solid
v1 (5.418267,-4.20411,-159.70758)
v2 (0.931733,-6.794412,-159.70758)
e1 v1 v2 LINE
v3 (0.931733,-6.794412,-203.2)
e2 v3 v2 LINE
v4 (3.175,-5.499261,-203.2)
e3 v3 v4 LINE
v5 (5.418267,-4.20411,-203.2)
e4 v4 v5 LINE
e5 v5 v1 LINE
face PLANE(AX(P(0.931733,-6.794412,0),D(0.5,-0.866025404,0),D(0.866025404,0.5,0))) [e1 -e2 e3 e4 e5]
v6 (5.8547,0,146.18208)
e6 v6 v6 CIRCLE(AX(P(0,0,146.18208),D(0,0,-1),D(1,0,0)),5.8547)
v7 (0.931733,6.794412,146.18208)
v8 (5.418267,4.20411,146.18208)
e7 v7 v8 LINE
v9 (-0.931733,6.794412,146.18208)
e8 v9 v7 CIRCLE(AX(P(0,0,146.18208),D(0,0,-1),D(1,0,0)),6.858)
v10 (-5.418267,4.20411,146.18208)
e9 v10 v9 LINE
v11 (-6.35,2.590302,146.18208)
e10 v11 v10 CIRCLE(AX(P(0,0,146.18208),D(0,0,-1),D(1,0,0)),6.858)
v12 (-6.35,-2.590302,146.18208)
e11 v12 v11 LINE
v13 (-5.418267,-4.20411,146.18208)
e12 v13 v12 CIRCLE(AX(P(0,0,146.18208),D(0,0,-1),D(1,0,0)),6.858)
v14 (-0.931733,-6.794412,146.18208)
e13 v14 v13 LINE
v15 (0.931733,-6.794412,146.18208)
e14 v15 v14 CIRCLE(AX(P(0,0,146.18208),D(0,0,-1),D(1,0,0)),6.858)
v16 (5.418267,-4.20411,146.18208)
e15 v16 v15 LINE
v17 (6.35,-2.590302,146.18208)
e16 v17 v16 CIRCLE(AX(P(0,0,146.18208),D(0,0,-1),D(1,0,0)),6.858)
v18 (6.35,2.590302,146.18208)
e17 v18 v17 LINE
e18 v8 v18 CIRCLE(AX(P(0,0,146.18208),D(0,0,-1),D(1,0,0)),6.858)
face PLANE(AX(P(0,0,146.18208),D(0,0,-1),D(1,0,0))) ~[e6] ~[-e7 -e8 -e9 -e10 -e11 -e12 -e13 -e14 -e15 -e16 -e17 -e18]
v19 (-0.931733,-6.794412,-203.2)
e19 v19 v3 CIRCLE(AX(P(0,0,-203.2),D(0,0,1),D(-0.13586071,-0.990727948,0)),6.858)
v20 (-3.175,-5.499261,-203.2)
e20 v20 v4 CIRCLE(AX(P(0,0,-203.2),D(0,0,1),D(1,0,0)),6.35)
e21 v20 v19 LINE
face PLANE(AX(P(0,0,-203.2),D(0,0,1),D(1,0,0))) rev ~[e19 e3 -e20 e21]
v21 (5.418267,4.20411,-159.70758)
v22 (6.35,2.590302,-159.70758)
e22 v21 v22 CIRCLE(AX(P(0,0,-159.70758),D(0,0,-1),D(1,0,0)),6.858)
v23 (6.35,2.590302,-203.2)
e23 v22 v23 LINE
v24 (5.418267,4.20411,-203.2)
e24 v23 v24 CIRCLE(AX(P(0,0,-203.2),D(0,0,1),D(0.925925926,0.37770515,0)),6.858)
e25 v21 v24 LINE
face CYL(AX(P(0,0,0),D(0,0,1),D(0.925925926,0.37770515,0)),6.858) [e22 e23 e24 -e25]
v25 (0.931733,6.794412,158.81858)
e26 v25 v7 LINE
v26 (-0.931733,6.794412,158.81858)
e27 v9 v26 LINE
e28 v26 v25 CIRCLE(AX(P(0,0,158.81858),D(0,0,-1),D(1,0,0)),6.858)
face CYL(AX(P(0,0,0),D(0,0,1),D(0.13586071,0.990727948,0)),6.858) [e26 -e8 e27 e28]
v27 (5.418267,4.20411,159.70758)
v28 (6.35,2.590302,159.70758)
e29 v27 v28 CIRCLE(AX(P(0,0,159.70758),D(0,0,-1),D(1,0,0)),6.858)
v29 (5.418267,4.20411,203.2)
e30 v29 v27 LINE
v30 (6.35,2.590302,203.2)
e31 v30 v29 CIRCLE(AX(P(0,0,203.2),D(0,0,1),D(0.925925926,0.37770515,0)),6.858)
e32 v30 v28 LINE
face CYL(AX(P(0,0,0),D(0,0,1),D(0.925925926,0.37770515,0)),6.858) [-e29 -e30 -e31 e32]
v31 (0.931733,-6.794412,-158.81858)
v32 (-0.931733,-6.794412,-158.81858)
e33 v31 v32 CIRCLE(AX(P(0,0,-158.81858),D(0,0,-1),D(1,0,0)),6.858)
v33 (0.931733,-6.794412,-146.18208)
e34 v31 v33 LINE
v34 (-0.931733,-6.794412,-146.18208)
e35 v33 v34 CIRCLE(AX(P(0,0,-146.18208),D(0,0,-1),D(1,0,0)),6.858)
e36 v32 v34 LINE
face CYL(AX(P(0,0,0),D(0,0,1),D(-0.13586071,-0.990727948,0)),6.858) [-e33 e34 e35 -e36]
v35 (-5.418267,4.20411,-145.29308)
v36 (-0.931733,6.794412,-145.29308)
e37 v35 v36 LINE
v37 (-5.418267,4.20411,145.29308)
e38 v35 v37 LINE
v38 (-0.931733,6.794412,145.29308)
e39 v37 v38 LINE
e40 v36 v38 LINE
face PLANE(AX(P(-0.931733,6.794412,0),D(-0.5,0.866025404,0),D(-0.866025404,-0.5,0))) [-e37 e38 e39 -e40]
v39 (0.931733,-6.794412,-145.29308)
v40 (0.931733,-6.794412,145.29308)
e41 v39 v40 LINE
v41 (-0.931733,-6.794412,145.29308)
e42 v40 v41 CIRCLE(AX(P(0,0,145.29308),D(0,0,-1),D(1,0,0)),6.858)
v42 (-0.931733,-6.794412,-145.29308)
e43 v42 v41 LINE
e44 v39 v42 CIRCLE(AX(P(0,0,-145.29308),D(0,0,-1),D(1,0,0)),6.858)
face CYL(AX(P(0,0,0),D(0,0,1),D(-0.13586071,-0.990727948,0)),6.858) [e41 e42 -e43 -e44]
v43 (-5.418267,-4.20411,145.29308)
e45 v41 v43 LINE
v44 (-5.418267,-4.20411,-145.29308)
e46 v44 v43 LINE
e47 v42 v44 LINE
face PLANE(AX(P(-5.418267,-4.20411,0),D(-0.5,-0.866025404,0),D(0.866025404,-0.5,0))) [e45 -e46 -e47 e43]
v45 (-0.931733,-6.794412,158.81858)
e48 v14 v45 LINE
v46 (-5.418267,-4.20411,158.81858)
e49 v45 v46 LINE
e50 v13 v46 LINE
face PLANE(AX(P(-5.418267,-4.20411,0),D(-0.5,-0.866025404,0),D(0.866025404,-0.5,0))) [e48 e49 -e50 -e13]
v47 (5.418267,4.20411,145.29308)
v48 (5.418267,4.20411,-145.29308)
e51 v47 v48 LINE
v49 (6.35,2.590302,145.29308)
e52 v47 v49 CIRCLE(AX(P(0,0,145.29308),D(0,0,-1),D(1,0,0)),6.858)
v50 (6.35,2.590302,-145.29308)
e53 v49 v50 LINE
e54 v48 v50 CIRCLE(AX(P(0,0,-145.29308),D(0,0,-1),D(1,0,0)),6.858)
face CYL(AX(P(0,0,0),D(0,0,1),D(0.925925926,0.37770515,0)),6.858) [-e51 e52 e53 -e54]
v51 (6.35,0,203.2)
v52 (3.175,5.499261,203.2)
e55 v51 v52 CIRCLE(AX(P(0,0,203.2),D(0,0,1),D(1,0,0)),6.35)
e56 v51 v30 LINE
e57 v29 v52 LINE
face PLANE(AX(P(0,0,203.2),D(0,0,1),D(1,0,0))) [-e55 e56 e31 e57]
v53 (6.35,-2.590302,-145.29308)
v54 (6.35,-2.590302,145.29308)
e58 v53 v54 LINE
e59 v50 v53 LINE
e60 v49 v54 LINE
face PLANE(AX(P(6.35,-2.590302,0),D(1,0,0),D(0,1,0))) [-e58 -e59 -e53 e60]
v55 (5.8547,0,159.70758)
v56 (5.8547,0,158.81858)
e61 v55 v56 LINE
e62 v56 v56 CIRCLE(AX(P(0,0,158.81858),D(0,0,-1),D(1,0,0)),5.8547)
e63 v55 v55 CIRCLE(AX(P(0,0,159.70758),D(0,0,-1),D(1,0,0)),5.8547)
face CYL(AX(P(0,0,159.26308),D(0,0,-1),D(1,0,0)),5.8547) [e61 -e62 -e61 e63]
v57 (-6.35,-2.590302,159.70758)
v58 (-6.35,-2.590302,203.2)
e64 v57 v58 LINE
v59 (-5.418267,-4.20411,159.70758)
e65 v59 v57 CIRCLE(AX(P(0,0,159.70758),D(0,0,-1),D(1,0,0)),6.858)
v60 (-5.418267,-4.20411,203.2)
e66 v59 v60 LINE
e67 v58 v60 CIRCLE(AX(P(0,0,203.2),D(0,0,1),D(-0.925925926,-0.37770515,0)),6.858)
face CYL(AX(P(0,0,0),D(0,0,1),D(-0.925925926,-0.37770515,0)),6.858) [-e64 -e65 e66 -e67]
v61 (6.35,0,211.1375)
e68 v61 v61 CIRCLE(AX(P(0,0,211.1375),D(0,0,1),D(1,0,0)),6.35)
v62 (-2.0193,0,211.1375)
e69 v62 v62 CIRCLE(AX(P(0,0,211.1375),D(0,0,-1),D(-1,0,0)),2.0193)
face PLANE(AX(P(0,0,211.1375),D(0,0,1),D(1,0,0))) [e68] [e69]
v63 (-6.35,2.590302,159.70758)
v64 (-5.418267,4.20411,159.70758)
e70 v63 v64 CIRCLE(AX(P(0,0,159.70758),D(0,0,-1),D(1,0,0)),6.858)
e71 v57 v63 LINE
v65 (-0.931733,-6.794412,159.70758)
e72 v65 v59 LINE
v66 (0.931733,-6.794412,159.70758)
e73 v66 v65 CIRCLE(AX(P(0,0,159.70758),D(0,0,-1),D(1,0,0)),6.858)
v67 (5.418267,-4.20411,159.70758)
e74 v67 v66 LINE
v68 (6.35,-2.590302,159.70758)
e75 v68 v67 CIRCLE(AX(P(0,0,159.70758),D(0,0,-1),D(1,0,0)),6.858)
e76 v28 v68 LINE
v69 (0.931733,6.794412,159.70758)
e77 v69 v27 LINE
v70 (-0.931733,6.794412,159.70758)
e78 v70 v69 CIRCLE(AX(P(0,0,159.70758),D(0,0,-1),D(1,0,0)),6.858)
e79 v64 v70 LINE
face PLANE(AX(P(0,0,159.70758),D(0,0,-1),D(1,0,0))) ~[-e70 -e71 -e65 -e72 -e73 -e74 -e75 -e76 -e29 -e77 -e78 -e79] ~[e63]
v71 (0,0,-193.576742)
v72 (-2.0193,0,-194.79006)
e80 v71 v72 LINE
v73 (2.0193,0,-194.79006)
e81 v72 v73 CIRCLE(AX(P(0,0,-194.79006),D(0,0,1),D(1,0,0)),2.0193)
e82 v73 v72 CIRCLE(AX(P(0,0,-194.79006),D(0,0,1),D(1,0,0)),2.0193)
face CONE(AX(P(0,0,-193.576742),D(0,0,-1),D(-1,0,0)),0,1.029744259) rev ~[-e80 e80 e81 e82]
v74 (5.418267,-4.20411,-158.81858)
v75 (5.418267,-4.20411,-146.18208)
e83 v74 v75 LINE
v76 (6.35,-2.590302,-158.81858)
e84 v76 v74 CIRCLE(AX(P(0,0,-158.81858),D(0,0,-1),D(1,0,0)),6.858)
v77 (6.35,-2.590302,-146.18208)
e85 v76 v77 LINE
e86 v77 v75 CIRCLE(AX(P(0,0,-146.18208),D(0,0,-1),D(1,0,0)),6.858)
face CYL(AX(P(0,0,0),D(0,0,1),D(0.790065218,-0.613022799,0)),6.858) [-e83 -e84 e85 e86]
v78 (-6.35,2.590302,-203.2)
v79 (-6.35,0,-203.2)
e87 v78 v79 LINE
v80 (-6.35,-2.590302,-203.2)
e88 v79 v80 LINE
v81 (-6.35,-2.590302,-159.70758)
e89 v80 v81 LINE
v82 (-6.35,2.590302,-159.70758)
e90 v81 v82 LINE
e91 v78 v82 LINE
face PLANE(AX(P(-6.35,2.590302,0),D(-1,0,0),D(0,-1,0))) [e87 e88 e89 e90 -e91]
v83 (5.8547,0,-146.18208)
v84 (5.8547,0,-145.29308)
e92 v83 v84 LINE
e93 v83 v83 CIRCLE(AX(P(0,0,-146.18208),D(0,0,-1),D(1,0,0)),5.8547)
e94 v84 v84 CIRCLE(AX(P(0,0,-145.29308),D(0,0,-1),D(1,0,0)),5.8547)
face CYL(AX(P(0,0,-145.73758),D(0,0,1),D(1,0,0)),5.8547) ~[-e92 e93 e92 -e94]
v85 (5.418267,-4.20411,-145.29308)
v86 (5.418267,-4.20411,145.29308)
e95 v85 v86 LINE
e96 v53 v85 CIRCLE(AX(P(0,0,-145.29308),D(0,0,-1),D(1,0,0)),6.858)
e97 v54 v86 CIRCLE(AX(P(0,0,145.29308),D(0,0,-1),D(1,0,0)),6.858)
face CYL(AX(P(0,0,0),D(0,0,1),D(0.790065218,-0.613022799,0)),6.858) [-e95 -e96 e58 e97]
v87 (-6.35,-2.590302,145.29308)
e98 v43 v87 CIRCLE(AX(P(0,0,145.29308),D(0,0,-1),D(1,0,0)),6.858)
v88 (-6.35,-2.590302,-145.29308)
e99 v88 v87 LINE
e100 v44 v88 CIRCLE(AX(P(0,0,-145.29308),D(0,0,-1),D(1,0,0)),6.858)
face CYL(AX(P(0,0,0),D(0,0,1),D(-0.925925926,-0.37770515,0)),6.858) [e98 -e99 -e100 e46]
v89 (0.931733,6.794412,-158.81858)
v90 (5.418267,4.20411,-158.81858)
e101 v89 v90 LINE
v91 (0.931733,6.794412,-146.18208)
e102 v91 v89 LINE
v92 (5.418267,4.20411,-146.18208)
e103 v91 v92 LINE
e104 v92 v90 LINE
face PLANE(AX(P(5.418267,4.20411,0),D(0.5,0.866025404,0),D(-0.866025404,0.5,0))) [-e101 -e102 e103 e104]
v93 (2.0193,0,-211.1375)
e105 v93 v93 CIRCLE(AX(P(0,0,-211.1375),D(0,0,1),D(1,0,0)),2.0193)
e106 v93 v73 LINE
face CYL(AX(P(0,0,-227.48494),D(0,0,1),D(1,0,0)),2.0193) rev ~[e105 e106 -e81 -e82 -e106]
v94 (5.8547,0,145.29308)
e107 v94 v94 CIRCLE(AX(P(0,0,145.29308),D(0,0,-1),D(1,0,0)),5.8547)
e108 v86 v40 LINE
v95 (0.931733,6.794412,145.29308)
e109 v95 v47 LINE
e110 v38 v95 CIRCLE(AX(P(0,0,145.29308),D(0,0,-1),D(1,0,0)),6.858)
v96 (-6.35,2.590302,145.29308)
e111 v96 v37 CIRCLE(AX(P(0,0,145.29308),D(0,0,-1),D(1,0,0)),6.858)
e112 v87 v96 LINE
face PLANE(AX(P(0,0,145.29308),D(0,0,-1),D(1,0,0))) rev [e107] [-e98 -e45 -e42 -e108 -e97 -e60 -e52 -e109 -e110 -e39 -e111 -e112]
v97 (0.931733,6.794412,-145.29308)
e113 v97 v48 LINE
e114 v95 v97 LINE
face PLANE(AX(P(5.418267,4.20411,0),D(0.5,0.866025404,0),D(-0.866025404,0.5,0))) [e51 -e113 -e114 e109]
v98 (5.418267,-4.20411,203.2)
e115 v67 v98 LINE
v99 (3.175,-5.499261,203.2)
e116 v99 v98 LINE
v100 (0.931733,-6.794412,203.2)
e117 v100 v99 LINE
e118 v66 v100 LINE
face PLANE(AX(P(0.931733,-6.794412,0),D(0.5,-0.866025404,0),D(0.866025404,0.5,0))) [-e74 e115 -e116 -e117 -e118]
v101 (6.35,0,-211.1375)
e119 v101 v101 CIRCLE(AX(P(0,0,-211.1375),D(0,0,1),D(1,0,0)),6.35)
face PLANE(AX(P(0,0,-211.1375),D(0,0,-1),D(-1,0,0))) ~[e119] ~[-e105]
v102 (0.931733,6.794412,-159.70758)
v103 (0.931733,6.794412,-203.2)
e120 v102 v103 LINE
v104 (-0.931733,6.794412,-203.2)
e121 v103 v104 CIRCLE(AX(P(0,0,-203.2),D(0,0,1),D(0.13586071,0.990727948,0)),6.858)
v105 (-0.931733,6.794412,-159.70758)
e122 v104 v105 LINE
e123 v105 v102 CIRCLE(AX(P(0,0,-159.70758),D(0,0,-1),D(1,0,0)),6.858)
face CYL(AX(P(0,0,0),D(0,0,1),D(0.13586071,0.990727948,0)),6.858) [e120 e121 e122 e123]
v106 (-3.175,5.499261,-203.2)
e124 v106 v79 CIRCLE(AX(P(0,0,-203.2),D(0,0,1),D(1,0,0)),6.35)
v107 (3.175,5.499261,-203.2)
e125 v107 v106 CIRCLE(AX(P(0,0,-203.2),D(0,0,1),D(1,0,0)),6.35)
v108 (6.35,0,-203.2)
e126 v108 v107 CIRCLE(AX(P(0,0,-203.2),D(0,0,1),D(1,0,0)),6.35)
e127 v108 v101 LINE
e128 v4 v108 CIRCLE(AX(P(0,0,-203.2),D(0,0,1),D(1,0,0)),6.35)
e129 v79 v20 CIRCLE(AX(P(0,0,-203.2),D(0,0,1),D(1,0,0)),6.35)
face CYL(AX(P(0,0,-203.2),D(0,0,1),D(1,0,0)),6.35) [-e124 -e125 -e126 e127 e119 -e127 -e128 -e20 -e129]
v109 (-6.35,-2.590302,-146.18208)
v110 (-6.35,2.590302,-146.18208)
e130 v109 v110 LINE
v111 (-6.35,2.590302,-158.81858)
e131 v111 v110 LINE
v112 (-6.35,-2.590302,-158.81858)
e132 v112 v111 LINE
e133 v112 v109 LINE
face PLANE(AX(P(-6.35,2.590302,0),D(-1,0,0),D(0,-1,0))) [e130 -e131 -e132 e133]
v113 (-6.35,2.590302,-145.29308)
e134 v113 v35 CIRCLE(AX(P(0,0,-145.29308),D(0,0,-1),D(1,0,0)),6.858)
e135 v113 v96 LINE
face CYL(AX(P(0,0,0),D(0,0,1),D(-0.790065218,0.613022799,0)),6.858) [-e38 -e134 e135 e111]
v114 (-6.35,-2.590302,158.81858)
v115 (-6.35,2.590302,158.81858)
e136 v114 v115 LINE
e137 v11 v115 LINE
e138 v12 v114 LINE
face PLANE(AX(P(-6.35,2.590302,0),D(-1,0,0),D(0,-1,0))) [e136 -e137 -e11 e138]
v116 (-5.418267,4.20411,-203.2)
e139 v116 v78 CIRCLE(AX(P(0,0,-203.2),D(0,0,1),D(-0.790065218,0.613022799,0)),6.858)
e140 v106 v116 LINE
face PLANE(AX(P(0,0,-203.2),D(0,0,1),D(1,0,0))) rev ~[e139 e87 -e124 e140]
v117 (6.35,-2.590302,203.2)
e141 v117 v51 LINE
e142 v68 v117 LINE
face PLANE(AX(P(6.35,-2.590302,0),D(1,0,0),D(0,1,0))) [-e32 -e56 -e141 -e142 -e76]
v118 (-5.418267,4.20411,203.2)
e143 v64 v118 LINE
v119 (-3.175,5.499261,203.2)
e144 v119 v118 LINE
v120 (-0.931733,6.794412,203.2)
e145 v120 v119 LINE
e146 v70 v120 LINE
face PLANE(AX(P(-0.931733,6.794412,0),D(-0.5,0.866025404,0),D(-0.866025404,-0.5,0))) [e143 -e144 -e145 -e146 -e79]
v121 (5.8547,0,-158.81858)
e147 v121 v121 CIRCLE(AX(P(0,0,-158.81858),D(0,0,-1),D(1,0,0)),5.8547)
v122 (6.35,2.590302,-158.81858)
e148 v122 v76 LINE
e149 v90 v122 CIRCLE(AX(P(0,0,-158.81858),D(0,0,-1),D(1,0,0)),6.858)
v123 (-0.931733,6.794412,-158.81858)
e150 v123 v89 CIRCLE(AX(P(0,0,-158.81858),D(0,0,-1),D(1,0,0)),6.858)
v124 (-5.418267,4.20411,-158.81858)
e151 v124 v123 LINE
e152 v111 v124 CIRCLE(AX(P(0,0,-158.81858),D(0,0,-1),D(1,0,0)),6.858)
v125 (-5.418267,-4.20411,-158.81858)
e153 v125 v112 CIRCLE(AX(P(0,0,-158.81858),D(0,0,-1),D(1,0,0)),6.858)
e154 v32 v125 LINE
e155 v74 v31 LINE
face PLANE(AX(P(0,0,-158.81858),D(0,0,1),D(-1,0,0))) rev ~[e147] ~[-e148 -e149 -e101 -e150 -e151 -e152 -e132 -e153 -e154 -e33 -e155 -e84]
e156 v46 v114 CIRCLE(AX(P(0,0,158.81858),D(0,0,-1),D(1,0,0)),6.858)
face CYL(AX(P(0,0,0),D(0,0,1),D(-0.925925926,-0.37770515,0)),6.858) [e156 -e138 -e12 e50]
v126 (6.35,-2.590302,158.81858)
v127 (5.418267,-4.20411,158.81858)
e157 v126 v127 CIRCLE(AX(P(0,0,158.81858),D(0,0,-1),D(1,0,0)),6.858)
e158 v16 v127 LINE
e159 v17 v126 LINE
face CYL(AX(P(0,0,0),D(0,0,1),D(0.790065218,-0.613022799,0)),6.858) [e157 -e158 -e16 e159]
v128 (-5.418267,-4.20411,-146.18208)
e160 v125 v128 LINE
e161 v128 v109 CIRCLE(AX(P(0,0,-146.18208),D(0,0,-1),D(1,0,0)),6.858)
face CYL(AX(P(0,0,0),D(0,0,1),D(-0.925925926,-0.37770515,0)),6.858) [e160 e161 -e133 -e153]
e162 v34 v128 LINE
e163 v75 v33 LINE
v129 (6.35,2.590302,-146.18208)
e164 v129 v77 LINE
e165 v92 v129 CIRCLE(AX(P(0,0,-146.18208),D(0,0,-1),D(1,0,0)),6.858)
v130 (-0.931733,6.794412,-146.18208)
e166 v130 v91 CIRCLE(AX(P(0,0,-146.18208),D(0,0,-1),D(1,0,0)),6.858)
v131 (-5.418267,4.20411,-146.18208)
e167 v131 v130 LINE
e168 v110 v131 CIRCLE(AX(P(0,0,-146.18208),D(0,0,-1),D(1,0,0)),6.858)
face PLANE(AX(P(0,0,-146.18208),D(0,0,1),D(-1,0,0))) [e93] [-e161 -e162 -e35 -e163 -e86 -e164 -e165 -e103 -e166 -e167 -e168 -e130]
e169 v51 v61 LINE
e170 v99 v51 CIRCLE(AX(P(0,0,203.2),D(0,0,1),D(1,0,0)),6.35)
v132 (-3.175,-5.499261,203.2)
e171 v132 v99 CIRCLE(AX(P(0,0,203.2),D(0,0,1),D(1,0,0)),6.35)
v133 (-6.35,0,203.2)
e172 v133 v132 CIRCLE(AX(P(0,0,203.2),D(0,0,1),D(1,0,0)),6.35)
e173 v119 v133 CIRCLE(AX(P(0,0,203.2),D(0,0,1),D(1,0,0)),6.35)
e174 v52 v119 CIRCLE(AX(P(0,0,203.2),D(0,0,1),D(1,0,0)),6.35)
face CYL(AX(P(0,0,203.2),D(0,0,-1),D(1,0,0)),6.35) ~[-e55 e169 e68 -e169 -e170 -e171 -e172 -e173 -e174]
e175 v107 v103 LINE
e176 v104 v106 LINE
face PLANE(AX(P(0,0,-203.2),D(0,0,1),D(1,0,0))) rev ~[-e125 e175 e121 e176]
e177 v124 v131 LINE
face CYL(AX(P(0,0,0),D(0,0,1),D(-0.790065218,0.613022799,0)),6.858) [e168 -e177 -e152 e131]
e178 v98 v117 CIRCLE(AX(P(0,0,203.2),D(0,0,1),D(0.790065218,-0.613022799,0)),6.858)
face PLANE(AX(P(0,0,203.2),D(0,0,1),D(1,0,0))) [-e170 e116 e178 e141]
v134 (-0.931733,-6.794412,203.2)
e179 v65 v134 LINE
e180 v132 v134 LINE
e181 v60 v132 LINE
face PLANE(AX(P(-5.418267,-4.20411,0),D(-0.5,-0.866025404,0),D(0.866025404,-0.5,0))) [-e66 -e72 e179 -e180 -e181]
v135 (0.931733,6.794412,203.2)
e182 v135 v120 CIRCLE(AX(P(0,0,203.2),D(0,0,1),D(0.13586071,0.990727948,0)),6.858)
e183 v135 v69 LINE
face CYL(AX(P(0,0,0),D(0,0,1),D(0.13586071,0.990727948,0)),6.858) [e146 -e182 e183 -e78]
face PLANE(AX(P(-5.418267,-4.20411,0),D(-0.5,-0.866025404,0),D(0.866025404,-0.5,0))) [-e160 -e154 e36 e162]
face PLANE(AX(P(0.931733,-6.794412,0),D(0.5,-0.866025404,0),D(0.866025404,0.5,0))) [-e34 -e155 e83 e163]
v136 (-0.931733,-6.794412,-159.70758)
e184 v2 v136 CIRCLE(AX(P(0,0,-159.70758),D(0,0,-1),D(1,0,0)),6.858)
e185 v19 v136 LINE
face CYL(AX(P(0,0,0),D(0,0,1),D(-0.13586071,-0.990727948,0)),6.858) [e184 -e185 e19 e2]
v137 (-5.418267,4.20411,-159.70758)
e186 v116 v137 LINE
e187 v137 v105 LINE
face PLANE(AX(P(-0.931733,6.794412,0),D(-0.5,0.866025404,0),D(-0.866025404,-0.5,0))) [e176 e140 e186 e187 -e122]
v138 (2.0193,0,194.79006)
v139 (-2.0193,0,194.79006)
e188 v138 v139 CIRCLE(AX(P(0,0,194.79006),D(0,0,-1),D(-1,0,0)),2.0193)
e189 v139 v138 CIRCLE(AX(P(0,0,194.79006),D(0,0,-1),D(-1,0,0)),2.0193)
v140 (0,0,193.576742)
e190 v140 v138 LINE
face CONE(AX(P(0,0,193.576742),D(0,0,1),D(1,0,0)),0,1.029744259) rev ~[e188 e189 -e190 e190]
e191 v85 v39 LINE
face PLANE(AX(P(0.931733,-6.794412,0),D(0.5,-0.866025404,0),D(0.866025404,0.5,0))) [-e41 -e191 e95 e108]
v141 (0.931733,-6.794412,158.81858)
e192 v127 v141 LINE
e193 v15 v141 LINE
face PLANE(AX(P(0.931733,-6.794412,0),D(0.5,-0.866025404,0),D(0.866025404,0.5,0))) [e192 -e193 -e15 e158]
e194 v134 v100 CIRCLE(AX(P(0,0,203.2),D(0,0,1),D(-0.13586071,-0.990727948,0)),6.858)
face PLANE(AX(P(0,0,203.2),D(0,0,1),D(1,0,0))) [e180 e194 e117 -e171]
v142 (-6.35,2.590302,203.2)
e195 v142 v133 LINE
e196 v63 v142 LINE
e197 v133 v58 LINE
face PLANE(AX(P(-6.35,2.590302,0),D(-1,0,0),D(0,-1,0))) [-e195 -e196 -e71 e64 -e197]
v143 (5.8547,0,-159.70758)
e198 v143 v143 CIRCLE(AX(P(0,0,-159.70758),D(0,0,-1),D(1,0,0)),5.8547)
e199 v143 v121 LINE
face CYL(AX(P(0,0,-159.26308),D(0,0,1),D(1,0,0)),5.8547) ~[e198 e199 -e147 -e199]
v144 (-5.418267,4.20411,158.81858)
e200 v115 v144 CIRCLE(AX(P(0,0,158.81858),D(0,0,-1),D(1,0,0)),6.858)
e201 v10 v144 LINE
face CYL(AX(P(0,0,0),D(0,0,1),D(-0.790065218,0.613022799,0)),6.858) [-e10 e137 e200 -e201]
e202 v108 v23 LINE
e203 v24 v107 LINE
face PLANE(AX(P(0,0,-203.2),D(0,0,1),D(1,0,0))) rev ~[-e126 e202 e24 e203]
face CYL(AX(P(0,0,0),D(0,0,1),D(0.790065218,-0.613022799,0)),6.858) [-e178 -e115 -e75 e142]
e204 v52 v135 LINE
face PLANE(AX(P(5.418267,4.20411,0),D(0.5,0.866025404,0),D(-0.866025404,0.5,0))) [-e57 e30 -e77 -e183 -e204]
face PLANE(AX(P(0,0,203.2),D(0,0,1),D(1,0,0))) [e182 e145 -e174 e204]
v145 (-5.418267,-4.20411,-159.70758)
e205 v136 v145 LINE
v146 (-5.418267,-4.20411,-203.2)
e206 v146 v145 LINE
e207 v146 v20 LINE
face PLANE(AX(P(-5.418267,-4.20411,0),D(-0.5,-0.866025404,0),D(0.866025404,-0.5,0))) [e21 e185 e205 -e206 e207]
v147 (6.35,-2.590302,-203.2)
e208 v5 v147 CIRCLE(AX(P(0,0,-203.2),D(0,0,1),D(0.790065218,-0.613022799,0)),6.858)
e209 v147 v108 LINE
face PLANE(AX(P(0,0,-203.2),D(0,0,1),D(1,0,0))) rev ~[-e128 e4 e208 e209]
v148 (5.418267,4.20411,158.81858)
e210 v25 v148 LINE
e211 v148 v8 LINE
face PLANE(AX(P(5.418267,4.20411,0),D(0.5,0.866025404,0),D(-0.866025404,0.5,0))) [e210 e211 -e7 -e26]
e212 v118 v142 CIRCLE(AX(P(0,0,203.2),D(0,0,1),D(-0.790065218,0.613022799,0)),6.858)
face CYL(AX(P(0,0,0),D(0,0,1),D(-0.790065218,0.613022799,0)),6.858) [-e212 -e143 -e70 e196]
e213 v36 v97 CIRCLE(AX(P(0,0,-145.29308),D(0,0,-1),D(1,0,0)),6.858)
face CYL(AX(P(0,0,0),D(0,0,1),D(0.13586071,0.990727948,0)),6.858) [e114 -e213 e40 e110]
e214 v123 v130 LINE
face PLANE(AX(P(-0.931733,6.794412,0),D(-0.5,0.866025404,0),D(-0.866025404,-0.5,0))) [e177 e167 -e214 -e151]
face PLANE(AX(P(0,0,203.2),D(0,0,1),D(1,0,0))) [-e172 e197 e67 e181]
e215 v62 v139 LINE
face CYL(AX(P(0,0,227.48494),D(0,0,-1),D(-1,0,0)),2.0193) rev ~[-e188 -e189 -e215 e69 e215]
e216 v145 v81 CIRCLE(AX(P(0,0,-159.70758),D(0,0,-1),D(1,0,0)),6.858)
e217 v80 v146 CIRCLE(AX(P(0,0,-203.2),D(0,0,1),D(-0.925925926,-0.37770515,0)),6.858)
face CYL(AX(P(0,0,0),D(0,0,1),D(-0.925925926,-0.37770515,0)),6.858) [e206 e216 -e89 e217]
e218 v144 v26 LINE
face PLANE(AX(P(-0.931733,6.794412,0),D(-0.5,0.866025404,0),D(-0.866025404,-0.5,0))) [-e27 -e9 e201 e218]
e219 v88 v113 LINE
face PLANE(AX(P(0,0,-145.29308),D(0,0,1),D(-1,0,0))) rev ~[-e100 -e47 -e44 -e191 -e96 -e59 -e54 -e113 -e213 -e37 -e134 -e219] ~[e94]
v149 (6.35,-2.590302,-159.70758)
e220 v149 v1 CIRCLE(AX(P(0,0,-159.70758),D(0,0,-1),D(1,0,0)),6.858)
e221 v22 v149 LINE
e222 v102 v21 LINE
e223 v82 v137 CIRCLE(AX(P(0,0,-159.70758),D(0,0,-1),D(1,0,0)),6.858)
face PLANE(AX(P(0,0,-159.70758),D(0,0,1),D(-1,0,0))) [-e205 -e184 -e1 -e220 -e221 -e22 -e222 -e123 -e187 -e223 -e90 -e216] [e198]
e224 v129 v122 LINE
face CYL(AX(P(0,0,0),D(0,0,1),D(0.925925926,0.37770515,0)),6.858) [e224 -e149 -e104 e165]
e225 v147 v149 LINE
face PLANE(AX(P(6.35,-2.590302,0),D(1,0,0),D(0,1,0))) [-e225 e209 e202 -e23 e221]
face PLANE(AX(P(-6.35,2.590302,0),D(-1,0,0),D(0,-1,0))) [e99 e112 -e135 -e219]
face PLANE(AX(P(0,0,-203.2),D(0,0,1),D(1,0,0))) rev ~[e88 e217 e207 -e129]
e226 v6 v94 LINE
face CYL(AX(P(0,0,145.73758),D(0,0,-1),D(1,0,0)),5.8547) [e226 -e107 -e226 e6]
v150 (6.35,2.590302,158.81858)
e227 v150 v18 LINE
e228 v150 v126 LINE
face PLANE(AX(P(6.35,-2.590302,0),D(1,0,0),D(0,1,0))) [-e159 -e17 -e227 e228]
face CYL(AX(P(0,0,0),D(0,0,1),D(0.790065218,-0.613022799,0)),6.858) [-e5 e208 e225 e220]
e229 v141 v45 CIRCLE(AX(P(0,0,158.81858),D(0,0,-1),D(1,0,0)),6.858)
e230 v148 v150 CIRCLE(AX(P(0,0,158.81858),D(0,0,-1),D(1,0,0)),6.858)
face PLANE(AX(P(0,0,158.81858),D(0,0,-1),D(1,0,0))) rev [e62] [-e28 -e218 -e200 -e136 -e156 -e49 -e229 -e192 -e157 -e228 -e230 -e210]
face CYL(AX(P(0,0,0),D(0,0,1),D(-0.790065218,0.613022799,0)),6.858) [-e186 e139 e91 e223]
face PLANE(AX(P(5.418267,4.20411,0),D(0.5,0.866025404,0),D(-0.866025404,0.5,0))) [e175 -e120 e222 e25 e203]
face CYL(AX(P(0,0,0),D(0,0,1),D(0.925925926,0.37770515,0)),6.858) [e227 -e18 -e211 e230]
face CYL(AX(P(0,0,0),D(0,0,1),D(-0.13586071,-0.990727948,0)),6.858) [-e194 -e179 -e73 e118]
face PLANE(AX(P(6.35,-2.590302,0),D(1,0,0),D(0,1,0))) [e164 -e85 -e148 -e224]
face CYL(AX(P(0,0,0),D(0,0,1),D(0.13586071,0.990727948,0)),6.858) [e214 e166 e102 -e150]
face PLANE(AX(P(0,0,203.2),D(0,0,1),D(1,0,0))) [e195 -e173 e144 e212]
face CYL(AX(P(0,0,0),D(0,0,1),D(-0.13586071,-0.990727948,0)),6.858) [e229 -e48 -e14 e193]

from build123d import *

# Parameters (mm, degrees)
BOSS_EXTRUDE1_DEPTH                  = 203.2
SKETCH6_R                            = 6.35
BOSS_EXTRUDE2_DEPTH                  = 7.9375
F_10_32_TAPPED_HOLE1_D               = 4.0386
F_10_32_TAPPED_HOLE1_DEPTH           = 16.34744
F_10_32_TAPPED_HOLE1_TIP             = 1.213317848
F_10_32_TAPPED_HOLE1_ON_FACE_2_D     = 4.0386
F_10_32_TAPPED_HOLE1_ON_FACE_2_DEPTH = 16.34744
F_10_32_TAPPED_HOLE1_ON_FACE_2_TIP   = 1.213317848
SKETCH5_W                            = 0.889
SKETCH5_H                            = 1.0033


with BuildPart() as part:
    # Sketch1 → Boss-Extrude1 (new, symmetric)
    with BuildSketch(Plane.XY):
        with BuildLine():
            ThreePointArc((0.93173274, 6.79441227), (0, 6.858), (-0.93173274, 6.79441227))
            Line((-0.93173274, 6.79441227), (-5.41826726, 4.204110358))
            ThreePointArc((-5.41826726, 4.204110358), (-5.939202219, 3.429), (-6.35, 2.590301913))
            Line((-6.35, 2.590301913), (-6.35, -2.590301913))
            ThreePointArc((-6.35, -2.590301913), (-5.939202219, -3.429), (-5.41826726, -4.204110358))
            Line((-5.41826726, -4.204110358), (-0.93173274, -6.79441227))
            ThreePointArc((-0.93173274, -6.79441227), (0, -6.858), (0.93173274, -6.79441227))
            Line((0.93173274, -6.79441227), (5.41826726, -4.204110358))
            ThreePointArc((5.41826726, -4.204110358), (5.939202219, -3.429), (6.35, -2.590301913))
            Line((6.35, -2.590301913), (6.35, 2.590301913))
            ThreePointArc((6.35, 2.590301913), (5.939202219, 3.429), (5.41826726, 4.204110358))
            Line((5.41826726, 4.204110358), (0.93173274, 6.79441227))
        make_face()
    extrude(amount=BOSS_EXTRUDE1_DEPTH, both=True)

    # Sketch6 → Boss-Extrude2 (add)
    with BuildSketch(Plane.XY.offset(203.2)):
        Circle(SKETCH6_R)
    boss_extrude2 = extrude(amount=BOSS_EXTRUDE2_DEPTH)

    # Mirror2: Boss-Extrude2 across plane
    add(boss_extrude2.mirror(Plane.XY))

    # #10-32 Tapped Hole1
    with Locations(Plane.XY.offset(211.1375)):
        with Locations((0, 0)):
            Hole(F_10_32_TAPPED_HOLE1_D / 2, depth=F_10_32_TAPPED_HOLE1_DEPTH)
            with Locations((0, 0, -(F_10_32_TAPPED_HOLE1_DEPTH + F_10_32_TAPPED_HOLE1_TIP / 2))):  # 118° drill point
                Cone(0, F_10_32_TAPPED_HOLE1_D / 2, F_10_32_TAPPED_HOLE1_TIP, mode=Mode.SUBTRACT)

    # #10-32 Tapped Hole1 on face 2
    with Locations(Plane(origin=(0, 0, -211.1375), x_dir=(-1, 0, 0), z_dir=(0, 0, -1))):
        with Locations((0, 0)):
            Hole(F_10_32_TAPPED_HOLE1_ON_FACE_2_D / 2, depth=F_10_32_TAPPED_HOLE1_ON_FACE_2_DEPTH)
            with Locations((0, 0, -(F_10_32_TAPPED_HOLE1_ON_FACE_2_DEPTH + F_10_32_TAPPED_HOLE1_ON_FACE_2_TIP / 2))):  # 118° drill point
                Cone(0, F_10_32_TAPPED_HOLE1_ON_FACE_2_D / 2, F_10_32_TAPPED_HOLE1_ON_FACE_2_TIP, mode=Mode.SUBTRACT)

    # Sketch5 → Cut-Revolve1 (revolve, cut)
    with BuildSketch(Plane(origin=(0, 0, 0), x_dir=(0, 0, -1), z_dir=(1, 0, 0)), mode=Mode.PRIVATE) as cut_revolve1_sk:
        with Locations((-159.26308, 6.35635)):
            Rectangle(SKETCH5_W, SKETCH5_H)
        with Locations((-145.73758, 6.35635)):
            Rectangle(SKETCH5_W, SKETCH5_H)
    cut_revolve1 = revolve(cut_revolve1_sk.sketch.rotate(Axis((0, 0, 165.047176272), (0, 0, -1)), 90), axis=Axis((0, 0, 165.047176272), (0, 0, -1)), mode=Mode.SUBTRACT)

    # Mirror1: Cut-Revolve1 across plane
    add(cut_revolve1.mirror(Plane.XY), mode=Mode.SUBTRACT)


solid = part.part
